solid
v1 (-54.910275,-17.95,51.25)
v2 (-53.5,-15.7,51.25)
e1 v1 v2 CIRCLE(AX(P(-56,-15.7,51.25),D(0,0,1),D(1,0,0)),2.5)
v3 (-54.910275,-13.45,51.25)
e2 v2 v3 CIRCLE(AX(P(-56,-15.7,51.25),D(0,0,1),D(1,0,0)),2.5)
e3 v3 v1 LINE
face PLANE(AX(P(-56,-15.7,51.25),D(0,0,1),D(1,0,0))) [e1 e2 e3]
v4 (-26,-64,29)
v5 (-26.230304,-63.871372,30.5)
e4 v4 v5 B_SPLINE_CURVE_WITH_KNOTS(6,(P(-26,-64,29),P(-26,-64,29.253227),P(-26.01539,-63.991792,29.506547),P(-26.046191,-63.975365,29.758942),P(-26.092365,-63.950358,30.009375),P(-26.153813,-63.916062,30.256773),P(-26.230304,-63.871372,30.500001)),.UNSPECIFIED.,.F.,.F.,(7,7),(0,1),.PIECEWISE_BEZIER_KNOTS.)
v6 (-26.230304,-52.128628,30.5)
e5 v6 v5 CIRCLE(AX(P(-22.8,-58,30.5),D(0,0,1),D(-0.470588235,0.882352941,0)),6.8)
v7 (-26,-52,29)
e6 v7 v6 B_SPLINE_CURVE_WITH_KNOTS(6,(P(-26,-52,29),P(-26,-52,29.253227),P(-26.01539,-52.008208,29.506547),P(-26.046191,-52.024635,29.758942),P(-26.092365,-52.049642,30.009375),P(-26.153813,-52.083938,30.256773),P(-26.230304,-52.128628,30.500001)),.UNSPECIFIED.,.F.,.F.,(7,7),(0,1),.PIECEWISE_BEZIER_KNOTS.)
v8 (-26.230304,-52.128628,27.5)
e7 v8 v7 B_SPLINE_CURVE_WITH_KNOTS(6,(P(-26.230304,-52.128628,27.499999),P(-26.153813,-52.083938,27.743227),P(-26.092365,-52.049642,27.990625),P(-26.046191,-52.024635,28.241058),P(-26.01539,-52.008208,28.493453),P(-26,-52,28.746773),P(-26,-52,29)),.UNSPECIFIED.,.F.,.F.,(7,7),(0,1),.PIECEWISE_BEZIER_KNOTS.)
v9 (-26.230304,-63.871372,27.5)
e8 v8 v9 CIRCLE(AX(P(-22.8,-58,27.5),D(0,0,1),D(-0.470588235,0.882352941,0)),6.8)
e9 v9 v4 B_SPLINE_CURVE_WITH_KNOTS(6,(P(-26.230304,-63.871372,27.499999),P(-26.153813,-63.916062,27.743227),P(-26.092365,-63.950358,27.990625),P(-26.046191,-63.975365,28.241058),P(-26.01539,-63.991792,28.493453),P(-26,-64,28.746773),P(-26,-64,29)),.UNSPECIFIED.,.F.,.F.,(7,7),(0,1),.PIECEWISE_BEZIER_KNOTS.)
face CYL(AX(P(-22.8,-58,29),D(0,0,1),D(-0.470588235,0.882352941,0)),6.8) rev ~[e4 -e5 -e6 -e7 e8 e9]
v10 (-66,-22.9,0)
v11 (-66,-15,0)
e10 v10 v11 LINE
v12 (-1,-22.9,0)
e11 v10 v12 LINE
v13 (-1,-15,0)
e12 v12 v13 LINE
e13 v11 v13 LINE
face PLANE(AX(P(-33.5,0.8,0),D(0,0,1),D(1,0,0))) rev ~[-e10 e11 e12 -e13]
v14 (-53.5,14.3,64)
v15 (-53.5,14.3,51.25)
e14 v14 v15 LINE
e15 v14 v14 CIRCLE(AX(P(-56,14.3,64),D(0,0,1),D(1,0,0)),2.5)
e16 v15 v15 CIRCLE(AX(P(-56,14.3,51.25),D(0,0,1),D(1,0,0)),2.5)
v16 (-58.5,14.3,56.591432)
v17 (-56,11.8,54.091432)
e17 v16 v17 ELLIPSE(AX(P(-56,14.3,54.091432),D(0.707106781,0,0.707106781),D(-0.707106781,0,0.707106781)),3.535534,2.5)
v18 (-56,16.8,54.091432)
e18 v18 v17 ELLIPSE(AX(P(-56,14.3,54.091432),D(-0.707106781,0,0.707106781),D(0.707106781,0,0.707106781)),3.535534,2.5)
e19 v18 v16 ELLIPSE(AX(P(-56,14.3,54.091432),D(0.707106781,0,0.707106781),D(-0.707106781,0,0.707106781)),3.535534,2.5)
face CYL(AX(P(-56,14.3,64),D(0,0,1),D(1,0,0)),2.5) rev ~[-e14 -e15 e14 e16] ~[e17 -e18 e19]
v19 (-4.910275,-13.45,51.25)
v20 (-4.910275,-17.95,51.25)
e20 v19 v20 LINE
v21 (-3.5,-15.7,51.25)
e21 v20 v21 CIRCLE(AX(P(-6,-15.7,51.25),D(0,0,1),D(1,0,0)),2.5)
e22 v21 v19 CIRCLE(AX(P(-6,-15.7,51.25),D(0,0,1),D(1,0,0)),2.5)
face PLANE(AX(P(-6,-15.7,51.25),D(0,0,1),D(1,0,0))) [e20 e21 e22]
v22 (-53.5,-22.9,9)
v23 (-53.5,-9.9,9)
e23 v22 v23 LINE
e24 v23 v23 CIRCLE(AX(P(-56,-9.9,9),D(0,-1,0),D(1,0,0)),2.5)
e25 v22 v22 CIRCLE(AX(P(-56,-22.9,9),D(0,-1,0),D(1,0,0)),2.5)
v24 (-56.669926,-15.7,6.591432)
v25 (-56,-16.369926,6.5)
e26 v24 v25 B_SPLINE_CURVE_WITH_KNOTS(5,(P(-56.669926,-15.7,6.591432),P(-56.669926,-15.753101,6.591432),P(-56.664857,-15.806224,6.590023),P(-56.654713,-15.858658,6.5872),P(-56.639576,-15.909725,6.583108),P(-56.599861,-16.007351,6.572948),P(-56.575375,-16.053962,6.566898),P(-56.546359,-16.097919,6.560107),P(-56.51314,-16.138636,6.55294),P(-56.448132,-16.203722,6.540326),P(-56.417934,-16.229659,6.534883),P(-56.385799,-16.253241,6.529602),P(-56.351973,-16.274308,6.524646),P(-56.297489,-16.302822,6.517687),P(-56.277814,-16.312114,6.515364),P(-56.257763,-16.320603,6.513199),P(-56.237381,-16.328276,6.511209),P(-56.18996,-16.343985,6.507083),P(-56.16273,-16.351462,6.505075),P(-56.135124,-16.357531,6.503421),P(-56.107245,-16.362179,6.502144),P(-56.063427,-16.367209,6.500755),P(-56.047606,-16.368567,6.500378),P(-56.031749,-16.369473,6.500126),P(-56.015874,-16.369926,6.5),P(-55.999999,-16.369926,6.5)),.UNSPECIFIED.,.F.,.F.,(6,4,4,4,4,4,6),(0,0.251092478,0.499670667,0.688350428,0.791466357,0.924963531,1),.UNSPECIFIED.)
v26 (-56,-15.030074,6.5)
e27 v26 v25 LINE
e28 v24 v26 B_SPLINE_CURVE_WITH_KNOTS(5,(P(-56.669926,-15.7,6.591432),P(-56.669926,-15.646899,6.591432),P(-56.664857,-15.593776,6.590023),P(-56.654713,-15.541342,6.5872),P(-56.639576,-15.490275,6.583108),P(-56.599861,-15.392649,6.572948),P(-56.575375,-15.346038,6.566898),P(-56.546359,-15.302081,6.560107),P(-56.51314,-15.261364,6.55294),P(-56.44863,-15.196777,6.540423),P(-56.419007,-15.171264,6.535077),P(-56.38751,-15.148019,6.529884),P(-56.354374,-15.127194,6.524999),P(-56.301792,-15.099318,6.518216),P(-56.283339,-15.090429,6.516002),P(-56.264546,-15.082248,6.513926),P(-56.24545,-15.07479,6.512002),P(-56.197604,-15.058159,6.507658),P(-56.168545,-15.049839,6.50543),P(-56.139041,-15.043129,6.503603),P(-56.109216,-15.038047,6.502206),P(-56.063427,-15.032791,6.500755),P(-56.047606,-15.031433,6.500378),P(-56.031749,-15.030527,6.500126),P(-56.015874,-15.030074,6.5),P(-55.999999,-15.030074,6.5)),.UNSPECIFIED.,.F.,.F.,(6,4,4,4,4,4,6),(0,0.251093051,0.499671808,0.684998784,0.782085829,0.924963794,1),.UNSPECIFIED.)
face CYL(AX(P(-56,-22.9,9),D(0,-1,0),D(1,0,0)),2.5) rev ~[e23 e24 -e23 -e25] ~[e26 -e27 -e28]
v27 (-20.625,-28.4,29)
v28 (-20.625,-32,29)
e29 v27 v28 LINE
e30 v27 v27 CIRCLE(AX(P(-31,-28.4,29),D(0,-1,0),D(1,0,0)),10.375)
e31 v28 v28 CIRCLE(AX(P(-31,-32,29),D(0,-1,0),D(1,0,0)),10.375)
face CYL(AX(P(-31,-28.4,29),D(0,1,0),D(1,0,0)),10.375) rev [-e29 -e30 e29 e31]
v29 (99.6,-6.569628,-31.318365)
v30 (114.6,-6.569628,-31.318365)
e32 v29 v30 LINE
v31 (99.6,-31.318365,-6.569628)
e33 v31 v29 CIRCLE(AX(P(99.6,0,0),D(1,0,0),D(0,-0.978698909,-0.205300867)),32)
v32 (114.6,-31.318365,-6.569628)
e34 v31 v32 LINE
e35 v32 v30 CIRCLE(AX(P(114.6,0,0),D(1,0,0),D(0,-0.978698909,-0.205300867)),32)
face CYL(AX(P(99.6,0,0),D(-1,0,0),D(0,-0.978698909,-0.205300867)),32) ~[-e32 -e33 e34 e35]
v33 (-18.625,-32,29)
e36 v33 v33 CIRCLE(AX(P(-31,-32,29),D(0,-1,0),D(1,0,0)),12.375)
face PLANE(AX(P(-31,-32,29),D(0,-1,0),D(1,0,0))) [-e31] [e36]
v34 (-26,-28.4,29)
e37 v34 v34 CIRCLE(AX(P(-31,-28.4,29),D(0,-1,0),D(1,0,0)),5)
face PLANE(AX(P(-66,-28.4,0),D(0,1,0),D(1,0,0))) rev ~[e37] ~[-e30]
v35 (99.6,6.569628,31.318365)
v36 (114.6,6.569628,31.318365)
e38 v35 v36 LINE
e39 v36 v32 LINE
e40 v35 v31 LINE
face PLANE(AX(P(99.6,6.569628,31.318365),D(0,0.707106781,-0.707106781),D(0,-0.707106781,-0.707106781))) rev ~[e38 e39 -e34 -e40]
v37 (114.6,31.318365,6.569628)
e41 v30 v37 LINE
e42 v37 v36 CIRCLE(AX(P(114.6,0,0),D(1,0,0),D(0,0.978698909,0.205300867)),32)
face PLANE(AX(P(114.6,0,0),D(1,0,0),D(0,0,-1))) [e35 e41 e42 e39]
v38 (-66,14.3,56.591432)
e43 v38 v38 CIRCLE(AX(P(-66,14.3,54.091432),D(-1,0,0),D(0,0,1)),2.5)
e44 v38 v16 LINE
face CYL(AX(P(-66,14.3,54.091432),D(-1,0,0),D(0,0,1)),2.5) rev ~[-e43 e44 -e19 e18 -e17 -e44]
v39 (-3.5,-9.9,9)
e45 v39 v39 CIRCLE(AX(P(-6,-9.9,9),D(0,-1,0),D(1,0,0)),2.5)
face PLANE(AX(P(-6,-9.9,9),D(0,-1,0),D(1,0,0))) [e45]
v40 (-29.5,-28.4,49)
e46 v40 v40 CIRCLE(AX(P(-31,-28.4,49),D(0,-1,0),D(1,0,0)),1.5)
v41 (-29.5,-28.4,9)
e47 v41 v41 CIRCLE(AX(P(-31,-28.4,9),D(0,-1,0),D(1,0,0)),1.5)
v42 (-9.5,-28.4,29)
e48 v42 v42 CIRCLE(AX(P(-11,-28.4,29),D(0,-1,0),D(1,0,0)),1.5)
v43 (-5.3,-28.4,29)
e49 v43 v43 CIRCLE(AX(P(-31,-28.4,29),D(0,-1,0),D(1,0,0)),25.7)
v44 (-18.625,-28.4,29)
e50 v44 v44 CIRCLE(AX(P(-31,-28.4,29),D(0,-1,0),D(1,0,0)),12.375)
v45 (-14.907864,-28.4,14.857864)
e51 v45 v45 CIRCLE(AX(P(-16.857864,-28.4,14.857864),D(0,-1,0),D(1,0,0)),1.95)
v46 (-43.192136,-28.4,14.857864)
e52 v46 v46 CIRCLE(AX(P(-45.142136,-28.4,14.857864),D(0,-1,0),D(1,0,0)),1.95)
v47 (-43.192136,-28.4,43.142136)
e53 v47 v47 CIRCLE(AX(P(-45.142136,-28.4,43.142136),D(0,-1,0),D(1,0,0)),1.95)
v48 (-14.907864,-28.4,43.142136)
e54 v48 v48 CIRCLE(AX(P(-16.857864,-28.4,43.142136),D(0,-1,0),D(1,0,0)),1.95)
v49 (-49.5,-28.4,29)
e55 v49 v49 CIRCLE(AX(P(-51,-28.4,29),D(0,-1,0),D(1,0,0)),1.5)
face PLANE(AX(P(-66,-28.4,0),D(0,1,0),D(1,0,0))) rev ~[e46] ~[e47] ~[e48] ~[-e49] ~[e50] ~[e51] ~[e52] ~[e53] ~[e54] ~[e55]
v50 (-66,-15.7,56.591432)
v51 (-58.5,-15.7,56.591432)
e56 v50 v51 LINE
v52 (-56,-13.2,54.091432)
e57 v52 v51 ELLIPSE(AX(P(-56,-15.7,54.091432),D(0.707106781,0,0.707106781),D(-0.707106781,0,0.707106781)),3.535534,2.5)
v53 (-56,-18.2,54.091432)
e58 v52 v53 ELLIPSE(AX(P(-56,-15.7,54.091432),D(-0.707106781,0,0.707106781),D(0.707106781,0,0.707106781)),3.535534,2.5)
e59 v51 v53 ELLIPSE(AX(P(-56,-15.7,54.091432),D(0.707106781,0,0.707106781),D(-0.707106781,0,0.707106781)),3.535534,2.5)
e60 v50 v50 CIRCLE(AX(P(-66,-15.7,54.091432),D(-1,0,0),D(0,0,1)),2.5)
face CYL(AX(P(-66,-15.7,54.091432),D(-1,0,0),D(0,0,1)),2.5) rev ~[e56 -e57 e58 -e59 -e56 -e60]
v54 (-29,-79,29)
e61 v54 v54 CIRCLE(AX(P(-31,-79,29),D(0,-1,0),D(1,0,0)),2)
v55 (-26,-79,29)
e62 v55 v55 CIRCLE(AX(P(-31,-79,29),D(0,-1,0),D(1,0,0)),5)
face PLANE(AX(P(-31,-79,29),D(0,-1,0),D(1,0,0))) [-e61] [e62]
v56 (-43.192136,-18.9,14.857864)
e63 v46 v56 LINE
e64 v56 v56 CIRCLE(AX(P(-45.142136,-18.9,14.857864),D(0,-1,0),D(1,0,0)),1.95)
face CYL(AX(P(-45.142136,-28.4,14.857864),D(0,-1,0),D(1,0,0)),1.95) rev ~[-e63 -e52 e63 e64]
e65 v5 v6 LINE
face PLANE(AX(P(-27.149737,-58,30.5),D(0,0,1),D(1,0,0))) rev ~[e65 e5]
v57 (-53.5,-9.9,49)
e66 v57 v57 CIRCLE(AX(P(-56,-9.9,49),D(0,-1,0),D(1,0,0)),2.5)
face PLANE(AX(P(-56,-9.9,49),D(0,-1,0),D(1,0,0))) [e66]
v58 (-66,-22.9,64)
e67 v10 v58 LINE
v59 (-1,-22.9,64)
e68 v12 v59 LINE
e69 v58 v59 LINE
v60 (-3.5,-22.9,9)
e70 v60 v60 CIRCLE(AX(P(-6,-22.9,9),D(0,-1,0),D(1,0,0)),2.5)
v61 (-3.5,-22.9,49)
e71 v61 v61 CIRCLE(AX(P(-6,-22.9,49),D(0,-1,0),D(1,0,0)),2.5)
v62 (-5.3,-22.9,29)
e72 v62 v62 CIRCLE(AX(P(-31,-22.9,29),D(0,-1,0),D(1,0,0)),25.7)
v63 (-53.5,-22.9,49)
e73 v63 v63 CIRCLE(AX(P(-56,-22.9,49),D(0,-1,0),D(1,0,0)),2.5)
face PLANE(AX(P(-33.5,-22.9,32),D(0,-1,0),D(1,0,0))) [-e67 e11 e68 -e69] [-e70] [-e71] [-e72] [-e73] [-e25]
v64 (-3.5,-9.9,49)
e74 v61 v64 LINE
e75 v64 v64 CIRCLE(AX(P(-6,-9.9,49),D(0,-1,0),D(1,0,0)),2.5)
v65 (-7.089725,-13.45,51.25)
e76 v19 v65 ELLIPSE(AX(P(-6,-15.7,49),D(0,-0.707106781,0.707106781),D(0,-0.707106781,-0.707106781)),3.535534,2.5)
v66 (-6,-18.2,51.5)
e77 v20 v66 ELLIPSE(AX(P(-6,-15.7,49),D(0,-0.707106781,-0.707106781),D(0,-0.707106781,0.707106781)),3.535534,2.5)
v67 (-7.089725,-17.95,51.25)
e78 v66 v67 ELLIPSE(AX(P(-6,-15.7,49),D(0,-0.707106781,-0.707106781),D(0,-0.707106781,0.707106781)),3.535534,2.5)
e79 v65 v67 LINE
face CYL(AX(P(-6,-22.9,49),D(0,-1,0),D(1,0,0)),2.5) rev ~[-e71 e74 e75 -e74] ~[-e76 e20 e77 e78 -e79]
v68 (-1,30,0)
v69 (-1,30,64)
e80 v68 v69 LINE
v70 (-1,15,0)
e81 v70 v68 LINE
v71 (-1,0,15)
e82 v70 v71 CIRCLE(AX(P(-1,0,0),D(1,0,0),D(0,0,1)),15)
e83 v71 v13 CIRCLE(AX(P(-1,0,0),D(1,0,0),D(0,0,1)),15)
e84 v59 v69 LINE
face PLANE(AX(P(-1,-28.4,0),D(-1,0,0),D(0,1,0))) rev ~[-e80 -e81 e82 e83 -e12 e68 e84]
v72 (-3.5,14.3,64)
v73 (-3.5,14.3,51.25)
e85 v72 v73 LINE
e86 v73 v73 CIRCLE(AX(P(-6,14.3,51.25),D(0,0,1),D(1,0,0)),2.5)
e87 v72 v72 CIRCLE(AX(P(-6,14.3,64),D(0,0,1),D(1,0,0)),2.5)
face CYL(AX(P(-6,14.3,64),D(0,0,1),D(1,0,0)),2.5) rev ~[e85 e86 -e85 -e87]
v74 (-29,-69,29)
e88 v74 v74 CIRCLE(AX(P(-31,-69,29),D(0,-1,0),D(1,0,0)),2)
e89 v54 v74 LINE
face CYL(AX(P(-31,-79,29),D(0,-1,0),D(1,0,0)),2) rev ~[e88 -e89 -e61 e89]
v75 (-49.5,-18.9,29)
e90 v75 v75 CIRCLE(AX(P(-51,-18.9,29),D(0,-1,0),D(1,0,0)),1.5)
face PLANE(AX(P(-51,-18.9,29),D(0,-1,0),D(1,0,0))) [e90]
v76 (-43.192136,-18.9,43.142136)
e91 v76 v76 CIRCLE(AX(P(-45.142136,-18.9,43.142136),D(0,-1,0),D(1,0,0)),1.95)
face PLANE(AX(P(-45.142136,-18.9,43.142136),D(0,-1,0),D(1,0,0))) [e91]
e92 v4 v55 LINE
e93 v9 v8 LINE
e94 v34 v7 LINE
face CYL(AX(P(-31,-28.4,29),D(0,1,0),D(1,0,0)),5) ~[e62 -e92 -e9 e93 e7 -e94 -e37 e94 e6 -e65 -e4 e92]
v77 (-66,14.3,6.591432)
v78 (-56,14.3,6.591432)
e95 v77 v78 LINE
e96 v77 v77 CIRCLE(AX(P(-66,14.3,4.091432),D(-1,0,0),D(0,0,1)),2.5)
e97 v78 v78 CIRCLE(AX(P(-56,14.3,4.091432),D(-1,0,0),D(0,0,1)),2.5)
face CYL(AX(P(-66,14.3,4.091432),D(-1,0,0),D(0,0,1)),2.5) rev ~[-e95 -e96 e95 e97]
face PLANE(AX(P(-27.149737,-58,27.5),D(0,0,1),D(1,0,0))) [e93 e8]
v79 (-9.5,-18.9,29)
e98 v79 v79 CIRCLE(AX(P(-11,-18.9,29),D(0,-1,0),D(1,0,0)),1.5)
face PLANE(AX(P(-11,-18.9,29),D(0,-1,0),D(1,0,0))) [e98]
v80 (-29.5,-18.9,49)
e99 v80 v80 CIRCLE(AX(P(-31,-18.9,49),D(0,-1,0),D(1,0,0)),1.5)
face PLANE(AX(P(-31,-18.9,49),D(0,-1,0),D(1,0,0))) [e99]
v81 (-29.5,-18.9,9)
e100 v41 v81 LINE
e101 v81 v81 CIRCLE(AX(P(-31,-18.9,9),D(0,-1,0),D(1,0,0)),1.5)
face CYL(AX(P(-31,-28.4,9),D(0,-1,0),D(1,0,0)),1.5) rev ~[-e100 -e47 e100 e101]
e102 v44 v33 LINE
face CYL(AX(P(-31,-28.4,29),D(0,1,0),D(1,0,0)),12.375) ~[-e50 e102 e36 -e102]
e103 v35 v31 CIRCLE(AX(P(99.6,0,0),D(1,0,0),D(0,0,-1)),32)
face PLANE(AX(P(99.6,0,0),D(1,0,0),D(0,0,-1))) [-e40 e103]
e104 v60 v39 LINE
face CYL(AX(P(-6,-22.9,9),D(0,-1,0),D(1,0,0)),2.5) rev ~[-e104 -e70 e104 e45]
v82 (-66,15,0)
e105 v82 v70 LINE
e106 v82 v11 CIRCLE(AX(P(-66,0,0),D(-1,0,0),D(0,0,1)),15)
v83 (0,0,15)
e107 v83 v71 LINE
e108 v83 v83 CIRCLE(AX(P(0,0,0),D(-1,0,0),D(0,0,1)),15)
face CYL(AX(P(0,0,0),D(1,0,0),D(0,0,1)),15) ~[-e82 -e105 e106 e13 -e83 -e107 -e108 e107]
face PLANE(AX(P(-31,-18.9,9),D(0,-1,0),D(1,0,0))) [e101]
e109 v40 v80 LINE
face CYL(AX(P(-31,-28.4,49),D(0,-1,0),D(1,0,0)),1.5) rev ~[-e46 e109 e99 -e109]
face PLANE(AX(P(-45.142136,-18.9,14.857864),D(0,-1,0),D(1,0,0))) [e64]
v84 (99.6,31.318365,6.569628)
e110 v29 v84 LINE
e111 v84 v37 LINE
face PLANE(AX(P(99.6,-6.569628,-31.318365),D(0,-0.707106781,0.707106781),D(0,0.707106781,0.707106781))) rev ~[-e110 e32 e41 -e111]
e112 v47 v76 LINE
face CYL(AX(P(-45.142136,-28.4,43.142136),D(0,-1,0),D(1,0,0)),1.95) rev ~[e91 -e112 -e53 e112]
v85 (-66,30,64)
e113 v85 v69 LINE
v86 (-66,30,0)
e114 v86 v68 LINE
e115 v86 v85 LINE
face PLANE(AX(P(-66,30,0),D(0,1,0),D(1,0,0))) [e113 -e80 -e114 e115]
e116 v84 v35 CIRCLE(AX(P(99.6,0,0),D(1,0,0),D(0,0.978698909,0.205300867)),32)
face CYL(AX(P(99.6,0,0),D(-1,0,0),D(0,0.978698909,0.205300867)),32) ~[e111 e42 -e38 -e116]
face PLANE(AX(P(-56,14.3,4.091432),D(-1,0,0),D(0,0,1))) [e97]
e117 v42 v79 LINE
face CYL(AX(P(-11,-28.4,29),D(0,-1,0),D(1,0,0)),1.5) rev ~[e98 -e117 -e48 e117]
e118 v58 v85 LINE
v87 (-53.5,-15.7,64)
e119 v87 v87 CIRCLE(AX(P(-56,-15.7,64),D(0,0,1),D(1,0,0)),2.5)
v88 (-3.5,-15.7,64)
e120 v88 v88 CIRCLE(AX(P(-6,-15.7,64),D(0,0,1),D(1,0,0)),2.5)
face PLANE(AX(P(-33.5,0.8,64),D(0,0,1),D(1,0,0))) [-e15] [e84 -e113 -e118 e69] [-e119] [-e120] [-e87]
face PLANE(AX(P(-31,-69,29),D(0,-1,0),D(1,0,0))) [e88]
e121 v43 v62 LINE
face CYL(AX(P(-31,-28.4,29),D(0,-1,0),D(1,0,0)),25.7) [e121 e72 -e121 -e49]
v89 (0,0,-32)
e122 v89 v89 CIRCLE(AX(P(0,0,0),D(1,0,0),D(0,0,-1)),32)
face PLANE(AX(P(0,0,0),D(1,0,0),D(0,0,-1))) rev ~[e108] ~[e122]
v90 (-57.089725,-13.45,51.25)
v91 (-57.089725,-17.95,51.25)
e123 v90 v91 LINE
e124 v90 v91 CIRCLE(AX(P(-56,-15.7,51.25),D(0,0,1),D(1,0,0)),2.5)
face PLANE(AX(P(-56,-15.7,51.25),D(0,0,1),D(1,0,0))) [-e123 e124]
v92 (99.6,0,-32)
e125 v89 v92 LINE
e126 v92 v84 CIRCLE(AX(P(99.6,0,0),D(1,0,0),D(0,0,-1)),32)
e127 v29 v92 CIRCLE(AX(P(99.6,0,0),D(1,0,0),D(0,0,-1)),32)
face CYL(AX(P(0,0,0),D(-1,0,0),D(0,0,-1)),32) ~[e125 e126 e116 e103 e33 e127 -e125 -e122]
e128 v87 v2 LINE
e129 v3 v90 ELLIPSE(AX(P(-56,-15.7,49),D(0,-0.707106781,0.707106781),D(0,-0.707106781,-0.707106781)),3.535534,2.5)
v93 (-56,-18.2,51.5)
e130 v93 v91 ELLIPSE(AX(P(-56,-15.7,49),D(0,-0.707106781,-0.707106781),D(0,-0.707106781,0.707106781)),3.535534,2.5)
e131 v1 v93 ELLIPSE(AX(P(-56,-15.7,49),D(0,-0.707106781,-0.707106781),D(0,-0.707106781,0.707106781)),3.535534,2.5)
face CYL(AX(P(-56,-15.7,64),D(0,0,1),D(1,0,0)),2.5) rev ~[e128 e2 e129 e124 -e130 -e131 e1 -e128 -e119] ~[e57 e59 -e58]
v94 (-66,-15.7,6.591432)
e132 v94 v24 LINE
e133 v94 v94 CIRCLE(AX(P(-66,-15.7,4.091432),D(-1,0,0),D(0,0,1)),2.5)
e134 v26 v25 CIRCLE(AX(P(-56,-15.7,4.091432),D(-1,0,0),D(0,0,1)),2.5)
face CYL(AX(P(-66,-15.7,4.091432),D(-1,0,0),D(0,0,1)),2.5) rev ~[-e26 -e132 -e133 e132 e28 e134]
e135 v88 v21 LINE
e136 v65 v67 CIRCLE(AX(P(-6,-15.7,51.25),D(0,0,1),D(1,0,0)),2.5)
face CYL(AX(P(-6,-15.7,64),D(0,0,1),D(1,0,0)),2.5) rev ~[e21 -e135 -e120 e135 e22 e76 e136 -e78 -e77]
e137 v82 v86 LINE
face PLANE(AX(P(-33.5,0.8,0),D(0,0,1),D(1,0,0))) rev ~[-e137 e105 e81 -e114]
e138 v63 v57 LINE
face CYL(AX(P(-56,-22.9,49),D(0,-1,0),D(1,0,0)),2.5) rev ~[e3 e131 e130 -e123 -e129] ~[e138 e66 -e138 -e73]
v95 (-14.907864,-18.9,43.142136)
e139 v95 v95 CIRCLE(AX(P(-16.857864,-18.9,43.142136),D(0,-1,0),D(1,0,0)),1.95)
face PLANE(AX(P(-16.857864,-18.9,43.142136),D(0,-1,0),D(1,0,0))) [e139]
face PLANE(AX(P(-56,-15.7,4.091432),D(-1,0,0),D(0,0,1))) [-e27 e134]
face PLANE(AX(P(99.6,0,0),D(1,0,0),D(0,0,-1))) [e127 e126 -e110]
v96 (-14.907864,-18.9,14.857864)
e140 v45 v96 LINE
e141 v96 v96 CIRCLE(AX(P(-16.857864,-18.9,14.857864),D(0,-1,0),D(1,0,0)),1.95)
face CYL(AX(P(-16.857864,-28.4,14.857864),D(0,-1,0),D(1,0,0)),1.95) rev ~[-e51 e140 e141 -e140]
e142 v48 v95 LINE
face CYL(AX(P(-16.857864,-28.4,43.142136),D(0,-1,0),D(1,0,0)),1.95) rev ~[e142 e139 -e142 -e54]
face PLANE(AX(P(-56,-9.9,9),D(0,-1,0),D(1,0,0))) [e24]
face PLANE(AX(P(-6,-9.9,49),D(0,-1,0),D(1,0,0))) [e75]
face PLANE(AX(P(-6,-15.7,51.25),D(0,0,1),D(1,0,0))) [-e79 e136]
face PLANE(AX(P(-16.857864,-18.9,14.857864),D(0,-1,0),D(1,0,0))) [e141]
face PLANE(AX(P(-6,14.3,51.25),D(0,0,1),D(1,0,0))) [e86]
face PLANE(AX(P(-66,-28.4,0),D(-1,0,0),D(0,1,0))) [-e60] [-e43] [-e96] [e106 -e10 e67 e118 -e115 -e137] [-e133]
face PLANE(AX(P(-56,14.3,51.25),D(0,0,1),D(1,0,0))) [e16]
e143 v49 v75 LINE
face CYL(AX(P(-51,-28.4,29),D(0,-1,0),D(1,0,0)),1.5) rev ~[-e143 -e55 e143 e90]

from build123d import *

# Parameters (mm, degrees)
SKETCH1_R           = 32
MOTORBODY_DEPTH     = 99.6
SKETCH2_R           = 15
MOTORAXLE_DEPTH     = 66
SKETCH3_W           = 65
SKETCH3_H           = 58.4
GEARBOX_DEPTH       = 64
SKETCH4_R           = 5
BOSS_EXTRUDE4_DEPTH = 50.6
SKETCH5_R           = 12.375
SKETCH5_R_2         = 10.375
BOSS_EXTRUDE5_DEPTH = 3.6
SKETCH6_R           = 2
CUT_EXTRUDE1_DEPTH  = 10
BOSS_EXTRUDE6_DEPTH = 15
CUT_EXTRUDE2_DEPTH  = 1.5
SKETCH10_R          = 1.95
SKETCH10_R_2        = 1.5
CUT_EXTRUDE3_DEPTH  = 9.5
SKETCH11_W          = 65
SKETCH11_H          = 64
SKETCH11_R          = 25.7
CUT_EXTRUDE4_DEPTH  = 5.5
SKETCH12_R          = 2.5
CUT_EXTRUDE5_DEPTH  = 13
SKETCH13_R          = 2.5
CUT_EXTRUDE11_DEPTH = 12.75
SKETCH14_R          = 2.5
CUT_EXTRUDE12_DEPTH = 10


with BuildPart() as part:
    # Sketch1 → MotorBody (new body)
    with BuildSketch(Plane(origin=(0, 0, 0), x_dir=(0, 0, -1), z_dir=(1, 0, 0))):
        Circle(SKETCH1_R)
    extrude(amount=MOTORBODY_DEPTH)

    # Sketch2 → MotorAxle (add)
    with BuildSketch(Plane.ZY):
        Circle(SKETCH2_R)
    extrude(amount=MOTORAXLE_DEPTH)

    # Sketch3 → Gearbox (add)
    with BuildSketch(Plane.XY):
        with Locations((-33.5, 0.8)):
            Rectangle(SKETCH3_W, SKETCH3_H)
    extrude(amount=GEARBOX_DEPTH)

    # Sketch4 → Boss-Extrude4 (add)
    with BuildSketch(Plane.XZ.offset(28.4)):
        with Locations((-31, 29)):
            Circle(SKETCH4_R)
    extrude(amount=BOSS_EXTRUDE4_DEPTH)

    # Sketch5 → Boss-Extrude5 (add)
    with BuildSketch(Plane.XZ.offset(28.4)):
        with Locations((-31, 29)):
            Circle(SKETCH5_R)
        with Locations((-31, 29)):
            Circle(SKETCH5_R_2, mode=Mode.SUBTRACT)
    extrude(amount=BOSS_EXTRUDE5_DEPTH)

    # Sketch6 → Cut-Extrude1 (cut)
    with BuildSketch(Plane.XZ.offset(79)):
        with Locations((-31, 29)):
            Circle(SKETCH6_R)
    extrude(amount=-CUT_EXTRUDE1_DEPTH, mode=Mode.SUBTRACT)

    # Sketch7 → Boss-Extrude6 (add)
    with BuildSketch(Plane(origin=(99.6, 0, 0), x_dir=(0, 0, -1), z_dir=(1, 0, 0))):
        with BuildLine():
            Line((-31.318365081, 6.56962774), (6.56962774, -31.318365081))
            ThreePointArc((6.56962774, -31.318365081), (22.627416998, -22.627416998), (31.318365081, -6.56962774))
            Line((31.318365081, -6.56962774), (-6.56962774, 31.318365081))
            ThreePointArc((-6.56962774, 31.318365081), (-22.627416998, 22.627416998), (-31.318365081, 6.56962774))
        make_face()
    extrude(amount=BOSS_EXTRUDE6_DEPTH)

    # Sketch9 → Cut-Extrude2 (cut, symmetric)
    with BuildSketch(Plane.XY.offset(29)):
        with BuildLine():
            Line((-26, -64), (-26, -52))
            ThreePointArc((-26, -52), (-29.6, -58), (-26, -64))
        make_face()
    extrude(amount=CUT_EXTRUDE2_DEPTH, both=True, mode=Mode.SUBTRACT)

    # Sketch10 → Cut-Extrude3 (cut)
    with BuildSketch(Plane.XZ.offset(28.4)):
        with Locations((-45.142135624, 43.142135624)):
            Circle(SKETCH10_R)
        with Locations((-16.857864376, 43.142135624)):
            Circle(SKETCH10_R)
        with Locations((-16.857864376, 14.857864376)):
            Circle(SKETCH10_R)
        with Locations((-45.142135624, 14.857864376)):
            Circle(SKETCH10_R)
        with Locations((-31, 49)):
            Circle(SKETCH10_R_2)
        with Locations((-11, 29)):
            Circle(SKETCH10_R_2)
        with Locations((-51, 29)):
            Circle(SKETCH10_R_2)
        with Locations((-31, 9)):
            Circle(SKETCH10_R_2)
    extrude(amount=-CUT_EXTRUDE3_DEPTH, mode=Mode.SUBTRACT)

    # Sketch11 → Cut-Extrude4 (cut)
    with BuildSketch(Plane.XZ.offset(28.4)):
        with Locations((-33.5, 32)):
            Rectangle(SKETCH11_W, SKETCH11_H)
        with Locations((-31, 29)):
            Circle(SKETCH11_R, mode=Mode.SUBTRACT)
    extrude(amount=-CUT_EXTRUDE4_DEPTH, mode=Mode.SUBTRACT)

    # Sketch12 → Cut-Extrude5 (cut)
    with BuildSketch(Plane.XZ.offset(22.9)):
        with Locations((-56, 49)):
            Circle(SKETCH12_R)
        with Locations((-6, 49)):
            Circle(SKETCH12_R)
        with Locations((-6, 9)):
            Circle(SKETCH12_R)
        with Locations((-56, 9)):
            Circle(SKETCH12_R)
    extrude(amount=-CUT_EXTRUDE5_DEPTH, mode=Mode.SUBTRACT)

    # Sketch13 → Cut-Extrude11 (cut)
    with BuildSketch(Plane.XY.offset(64)):
        with Locations((-56, 14.3)):
            Circle(SKETCH13_R)
        with Locations((-6, 14.3)):
            Circle(SKETCH13_R)
        with Locations((-56, -15.7)):
            Circle(SKETCH13_R)
        with Locations((-6, -15.7)):
            Circle(SKETCH13_R)
    extrude(amount=-CUT_EXTRUDE11_DEPTH, mode=Mode.SUBTRACT)

    # Sketch14 → Cut-Extrude12 (cut)
    with BuildSketch(Plane.ZY.offset(66)):
        with Locations((4.091432188, 14.3)):
            Circle(SKETCH14_R)
        with Locations((54.091432188, 14.3)):
            Circle(SKETCH14_R)
        with Locations((4.091432188, -15.7)):
            Circle(SKETCH14_R)
        with Locations((54.091432188, -15.7)):
            Circle(SKETCH14_R)
    extrude(amount=-CUT_EXTRUDE12_DEPTH, mode=Mode.SUBTRACT)


solid = part.part
